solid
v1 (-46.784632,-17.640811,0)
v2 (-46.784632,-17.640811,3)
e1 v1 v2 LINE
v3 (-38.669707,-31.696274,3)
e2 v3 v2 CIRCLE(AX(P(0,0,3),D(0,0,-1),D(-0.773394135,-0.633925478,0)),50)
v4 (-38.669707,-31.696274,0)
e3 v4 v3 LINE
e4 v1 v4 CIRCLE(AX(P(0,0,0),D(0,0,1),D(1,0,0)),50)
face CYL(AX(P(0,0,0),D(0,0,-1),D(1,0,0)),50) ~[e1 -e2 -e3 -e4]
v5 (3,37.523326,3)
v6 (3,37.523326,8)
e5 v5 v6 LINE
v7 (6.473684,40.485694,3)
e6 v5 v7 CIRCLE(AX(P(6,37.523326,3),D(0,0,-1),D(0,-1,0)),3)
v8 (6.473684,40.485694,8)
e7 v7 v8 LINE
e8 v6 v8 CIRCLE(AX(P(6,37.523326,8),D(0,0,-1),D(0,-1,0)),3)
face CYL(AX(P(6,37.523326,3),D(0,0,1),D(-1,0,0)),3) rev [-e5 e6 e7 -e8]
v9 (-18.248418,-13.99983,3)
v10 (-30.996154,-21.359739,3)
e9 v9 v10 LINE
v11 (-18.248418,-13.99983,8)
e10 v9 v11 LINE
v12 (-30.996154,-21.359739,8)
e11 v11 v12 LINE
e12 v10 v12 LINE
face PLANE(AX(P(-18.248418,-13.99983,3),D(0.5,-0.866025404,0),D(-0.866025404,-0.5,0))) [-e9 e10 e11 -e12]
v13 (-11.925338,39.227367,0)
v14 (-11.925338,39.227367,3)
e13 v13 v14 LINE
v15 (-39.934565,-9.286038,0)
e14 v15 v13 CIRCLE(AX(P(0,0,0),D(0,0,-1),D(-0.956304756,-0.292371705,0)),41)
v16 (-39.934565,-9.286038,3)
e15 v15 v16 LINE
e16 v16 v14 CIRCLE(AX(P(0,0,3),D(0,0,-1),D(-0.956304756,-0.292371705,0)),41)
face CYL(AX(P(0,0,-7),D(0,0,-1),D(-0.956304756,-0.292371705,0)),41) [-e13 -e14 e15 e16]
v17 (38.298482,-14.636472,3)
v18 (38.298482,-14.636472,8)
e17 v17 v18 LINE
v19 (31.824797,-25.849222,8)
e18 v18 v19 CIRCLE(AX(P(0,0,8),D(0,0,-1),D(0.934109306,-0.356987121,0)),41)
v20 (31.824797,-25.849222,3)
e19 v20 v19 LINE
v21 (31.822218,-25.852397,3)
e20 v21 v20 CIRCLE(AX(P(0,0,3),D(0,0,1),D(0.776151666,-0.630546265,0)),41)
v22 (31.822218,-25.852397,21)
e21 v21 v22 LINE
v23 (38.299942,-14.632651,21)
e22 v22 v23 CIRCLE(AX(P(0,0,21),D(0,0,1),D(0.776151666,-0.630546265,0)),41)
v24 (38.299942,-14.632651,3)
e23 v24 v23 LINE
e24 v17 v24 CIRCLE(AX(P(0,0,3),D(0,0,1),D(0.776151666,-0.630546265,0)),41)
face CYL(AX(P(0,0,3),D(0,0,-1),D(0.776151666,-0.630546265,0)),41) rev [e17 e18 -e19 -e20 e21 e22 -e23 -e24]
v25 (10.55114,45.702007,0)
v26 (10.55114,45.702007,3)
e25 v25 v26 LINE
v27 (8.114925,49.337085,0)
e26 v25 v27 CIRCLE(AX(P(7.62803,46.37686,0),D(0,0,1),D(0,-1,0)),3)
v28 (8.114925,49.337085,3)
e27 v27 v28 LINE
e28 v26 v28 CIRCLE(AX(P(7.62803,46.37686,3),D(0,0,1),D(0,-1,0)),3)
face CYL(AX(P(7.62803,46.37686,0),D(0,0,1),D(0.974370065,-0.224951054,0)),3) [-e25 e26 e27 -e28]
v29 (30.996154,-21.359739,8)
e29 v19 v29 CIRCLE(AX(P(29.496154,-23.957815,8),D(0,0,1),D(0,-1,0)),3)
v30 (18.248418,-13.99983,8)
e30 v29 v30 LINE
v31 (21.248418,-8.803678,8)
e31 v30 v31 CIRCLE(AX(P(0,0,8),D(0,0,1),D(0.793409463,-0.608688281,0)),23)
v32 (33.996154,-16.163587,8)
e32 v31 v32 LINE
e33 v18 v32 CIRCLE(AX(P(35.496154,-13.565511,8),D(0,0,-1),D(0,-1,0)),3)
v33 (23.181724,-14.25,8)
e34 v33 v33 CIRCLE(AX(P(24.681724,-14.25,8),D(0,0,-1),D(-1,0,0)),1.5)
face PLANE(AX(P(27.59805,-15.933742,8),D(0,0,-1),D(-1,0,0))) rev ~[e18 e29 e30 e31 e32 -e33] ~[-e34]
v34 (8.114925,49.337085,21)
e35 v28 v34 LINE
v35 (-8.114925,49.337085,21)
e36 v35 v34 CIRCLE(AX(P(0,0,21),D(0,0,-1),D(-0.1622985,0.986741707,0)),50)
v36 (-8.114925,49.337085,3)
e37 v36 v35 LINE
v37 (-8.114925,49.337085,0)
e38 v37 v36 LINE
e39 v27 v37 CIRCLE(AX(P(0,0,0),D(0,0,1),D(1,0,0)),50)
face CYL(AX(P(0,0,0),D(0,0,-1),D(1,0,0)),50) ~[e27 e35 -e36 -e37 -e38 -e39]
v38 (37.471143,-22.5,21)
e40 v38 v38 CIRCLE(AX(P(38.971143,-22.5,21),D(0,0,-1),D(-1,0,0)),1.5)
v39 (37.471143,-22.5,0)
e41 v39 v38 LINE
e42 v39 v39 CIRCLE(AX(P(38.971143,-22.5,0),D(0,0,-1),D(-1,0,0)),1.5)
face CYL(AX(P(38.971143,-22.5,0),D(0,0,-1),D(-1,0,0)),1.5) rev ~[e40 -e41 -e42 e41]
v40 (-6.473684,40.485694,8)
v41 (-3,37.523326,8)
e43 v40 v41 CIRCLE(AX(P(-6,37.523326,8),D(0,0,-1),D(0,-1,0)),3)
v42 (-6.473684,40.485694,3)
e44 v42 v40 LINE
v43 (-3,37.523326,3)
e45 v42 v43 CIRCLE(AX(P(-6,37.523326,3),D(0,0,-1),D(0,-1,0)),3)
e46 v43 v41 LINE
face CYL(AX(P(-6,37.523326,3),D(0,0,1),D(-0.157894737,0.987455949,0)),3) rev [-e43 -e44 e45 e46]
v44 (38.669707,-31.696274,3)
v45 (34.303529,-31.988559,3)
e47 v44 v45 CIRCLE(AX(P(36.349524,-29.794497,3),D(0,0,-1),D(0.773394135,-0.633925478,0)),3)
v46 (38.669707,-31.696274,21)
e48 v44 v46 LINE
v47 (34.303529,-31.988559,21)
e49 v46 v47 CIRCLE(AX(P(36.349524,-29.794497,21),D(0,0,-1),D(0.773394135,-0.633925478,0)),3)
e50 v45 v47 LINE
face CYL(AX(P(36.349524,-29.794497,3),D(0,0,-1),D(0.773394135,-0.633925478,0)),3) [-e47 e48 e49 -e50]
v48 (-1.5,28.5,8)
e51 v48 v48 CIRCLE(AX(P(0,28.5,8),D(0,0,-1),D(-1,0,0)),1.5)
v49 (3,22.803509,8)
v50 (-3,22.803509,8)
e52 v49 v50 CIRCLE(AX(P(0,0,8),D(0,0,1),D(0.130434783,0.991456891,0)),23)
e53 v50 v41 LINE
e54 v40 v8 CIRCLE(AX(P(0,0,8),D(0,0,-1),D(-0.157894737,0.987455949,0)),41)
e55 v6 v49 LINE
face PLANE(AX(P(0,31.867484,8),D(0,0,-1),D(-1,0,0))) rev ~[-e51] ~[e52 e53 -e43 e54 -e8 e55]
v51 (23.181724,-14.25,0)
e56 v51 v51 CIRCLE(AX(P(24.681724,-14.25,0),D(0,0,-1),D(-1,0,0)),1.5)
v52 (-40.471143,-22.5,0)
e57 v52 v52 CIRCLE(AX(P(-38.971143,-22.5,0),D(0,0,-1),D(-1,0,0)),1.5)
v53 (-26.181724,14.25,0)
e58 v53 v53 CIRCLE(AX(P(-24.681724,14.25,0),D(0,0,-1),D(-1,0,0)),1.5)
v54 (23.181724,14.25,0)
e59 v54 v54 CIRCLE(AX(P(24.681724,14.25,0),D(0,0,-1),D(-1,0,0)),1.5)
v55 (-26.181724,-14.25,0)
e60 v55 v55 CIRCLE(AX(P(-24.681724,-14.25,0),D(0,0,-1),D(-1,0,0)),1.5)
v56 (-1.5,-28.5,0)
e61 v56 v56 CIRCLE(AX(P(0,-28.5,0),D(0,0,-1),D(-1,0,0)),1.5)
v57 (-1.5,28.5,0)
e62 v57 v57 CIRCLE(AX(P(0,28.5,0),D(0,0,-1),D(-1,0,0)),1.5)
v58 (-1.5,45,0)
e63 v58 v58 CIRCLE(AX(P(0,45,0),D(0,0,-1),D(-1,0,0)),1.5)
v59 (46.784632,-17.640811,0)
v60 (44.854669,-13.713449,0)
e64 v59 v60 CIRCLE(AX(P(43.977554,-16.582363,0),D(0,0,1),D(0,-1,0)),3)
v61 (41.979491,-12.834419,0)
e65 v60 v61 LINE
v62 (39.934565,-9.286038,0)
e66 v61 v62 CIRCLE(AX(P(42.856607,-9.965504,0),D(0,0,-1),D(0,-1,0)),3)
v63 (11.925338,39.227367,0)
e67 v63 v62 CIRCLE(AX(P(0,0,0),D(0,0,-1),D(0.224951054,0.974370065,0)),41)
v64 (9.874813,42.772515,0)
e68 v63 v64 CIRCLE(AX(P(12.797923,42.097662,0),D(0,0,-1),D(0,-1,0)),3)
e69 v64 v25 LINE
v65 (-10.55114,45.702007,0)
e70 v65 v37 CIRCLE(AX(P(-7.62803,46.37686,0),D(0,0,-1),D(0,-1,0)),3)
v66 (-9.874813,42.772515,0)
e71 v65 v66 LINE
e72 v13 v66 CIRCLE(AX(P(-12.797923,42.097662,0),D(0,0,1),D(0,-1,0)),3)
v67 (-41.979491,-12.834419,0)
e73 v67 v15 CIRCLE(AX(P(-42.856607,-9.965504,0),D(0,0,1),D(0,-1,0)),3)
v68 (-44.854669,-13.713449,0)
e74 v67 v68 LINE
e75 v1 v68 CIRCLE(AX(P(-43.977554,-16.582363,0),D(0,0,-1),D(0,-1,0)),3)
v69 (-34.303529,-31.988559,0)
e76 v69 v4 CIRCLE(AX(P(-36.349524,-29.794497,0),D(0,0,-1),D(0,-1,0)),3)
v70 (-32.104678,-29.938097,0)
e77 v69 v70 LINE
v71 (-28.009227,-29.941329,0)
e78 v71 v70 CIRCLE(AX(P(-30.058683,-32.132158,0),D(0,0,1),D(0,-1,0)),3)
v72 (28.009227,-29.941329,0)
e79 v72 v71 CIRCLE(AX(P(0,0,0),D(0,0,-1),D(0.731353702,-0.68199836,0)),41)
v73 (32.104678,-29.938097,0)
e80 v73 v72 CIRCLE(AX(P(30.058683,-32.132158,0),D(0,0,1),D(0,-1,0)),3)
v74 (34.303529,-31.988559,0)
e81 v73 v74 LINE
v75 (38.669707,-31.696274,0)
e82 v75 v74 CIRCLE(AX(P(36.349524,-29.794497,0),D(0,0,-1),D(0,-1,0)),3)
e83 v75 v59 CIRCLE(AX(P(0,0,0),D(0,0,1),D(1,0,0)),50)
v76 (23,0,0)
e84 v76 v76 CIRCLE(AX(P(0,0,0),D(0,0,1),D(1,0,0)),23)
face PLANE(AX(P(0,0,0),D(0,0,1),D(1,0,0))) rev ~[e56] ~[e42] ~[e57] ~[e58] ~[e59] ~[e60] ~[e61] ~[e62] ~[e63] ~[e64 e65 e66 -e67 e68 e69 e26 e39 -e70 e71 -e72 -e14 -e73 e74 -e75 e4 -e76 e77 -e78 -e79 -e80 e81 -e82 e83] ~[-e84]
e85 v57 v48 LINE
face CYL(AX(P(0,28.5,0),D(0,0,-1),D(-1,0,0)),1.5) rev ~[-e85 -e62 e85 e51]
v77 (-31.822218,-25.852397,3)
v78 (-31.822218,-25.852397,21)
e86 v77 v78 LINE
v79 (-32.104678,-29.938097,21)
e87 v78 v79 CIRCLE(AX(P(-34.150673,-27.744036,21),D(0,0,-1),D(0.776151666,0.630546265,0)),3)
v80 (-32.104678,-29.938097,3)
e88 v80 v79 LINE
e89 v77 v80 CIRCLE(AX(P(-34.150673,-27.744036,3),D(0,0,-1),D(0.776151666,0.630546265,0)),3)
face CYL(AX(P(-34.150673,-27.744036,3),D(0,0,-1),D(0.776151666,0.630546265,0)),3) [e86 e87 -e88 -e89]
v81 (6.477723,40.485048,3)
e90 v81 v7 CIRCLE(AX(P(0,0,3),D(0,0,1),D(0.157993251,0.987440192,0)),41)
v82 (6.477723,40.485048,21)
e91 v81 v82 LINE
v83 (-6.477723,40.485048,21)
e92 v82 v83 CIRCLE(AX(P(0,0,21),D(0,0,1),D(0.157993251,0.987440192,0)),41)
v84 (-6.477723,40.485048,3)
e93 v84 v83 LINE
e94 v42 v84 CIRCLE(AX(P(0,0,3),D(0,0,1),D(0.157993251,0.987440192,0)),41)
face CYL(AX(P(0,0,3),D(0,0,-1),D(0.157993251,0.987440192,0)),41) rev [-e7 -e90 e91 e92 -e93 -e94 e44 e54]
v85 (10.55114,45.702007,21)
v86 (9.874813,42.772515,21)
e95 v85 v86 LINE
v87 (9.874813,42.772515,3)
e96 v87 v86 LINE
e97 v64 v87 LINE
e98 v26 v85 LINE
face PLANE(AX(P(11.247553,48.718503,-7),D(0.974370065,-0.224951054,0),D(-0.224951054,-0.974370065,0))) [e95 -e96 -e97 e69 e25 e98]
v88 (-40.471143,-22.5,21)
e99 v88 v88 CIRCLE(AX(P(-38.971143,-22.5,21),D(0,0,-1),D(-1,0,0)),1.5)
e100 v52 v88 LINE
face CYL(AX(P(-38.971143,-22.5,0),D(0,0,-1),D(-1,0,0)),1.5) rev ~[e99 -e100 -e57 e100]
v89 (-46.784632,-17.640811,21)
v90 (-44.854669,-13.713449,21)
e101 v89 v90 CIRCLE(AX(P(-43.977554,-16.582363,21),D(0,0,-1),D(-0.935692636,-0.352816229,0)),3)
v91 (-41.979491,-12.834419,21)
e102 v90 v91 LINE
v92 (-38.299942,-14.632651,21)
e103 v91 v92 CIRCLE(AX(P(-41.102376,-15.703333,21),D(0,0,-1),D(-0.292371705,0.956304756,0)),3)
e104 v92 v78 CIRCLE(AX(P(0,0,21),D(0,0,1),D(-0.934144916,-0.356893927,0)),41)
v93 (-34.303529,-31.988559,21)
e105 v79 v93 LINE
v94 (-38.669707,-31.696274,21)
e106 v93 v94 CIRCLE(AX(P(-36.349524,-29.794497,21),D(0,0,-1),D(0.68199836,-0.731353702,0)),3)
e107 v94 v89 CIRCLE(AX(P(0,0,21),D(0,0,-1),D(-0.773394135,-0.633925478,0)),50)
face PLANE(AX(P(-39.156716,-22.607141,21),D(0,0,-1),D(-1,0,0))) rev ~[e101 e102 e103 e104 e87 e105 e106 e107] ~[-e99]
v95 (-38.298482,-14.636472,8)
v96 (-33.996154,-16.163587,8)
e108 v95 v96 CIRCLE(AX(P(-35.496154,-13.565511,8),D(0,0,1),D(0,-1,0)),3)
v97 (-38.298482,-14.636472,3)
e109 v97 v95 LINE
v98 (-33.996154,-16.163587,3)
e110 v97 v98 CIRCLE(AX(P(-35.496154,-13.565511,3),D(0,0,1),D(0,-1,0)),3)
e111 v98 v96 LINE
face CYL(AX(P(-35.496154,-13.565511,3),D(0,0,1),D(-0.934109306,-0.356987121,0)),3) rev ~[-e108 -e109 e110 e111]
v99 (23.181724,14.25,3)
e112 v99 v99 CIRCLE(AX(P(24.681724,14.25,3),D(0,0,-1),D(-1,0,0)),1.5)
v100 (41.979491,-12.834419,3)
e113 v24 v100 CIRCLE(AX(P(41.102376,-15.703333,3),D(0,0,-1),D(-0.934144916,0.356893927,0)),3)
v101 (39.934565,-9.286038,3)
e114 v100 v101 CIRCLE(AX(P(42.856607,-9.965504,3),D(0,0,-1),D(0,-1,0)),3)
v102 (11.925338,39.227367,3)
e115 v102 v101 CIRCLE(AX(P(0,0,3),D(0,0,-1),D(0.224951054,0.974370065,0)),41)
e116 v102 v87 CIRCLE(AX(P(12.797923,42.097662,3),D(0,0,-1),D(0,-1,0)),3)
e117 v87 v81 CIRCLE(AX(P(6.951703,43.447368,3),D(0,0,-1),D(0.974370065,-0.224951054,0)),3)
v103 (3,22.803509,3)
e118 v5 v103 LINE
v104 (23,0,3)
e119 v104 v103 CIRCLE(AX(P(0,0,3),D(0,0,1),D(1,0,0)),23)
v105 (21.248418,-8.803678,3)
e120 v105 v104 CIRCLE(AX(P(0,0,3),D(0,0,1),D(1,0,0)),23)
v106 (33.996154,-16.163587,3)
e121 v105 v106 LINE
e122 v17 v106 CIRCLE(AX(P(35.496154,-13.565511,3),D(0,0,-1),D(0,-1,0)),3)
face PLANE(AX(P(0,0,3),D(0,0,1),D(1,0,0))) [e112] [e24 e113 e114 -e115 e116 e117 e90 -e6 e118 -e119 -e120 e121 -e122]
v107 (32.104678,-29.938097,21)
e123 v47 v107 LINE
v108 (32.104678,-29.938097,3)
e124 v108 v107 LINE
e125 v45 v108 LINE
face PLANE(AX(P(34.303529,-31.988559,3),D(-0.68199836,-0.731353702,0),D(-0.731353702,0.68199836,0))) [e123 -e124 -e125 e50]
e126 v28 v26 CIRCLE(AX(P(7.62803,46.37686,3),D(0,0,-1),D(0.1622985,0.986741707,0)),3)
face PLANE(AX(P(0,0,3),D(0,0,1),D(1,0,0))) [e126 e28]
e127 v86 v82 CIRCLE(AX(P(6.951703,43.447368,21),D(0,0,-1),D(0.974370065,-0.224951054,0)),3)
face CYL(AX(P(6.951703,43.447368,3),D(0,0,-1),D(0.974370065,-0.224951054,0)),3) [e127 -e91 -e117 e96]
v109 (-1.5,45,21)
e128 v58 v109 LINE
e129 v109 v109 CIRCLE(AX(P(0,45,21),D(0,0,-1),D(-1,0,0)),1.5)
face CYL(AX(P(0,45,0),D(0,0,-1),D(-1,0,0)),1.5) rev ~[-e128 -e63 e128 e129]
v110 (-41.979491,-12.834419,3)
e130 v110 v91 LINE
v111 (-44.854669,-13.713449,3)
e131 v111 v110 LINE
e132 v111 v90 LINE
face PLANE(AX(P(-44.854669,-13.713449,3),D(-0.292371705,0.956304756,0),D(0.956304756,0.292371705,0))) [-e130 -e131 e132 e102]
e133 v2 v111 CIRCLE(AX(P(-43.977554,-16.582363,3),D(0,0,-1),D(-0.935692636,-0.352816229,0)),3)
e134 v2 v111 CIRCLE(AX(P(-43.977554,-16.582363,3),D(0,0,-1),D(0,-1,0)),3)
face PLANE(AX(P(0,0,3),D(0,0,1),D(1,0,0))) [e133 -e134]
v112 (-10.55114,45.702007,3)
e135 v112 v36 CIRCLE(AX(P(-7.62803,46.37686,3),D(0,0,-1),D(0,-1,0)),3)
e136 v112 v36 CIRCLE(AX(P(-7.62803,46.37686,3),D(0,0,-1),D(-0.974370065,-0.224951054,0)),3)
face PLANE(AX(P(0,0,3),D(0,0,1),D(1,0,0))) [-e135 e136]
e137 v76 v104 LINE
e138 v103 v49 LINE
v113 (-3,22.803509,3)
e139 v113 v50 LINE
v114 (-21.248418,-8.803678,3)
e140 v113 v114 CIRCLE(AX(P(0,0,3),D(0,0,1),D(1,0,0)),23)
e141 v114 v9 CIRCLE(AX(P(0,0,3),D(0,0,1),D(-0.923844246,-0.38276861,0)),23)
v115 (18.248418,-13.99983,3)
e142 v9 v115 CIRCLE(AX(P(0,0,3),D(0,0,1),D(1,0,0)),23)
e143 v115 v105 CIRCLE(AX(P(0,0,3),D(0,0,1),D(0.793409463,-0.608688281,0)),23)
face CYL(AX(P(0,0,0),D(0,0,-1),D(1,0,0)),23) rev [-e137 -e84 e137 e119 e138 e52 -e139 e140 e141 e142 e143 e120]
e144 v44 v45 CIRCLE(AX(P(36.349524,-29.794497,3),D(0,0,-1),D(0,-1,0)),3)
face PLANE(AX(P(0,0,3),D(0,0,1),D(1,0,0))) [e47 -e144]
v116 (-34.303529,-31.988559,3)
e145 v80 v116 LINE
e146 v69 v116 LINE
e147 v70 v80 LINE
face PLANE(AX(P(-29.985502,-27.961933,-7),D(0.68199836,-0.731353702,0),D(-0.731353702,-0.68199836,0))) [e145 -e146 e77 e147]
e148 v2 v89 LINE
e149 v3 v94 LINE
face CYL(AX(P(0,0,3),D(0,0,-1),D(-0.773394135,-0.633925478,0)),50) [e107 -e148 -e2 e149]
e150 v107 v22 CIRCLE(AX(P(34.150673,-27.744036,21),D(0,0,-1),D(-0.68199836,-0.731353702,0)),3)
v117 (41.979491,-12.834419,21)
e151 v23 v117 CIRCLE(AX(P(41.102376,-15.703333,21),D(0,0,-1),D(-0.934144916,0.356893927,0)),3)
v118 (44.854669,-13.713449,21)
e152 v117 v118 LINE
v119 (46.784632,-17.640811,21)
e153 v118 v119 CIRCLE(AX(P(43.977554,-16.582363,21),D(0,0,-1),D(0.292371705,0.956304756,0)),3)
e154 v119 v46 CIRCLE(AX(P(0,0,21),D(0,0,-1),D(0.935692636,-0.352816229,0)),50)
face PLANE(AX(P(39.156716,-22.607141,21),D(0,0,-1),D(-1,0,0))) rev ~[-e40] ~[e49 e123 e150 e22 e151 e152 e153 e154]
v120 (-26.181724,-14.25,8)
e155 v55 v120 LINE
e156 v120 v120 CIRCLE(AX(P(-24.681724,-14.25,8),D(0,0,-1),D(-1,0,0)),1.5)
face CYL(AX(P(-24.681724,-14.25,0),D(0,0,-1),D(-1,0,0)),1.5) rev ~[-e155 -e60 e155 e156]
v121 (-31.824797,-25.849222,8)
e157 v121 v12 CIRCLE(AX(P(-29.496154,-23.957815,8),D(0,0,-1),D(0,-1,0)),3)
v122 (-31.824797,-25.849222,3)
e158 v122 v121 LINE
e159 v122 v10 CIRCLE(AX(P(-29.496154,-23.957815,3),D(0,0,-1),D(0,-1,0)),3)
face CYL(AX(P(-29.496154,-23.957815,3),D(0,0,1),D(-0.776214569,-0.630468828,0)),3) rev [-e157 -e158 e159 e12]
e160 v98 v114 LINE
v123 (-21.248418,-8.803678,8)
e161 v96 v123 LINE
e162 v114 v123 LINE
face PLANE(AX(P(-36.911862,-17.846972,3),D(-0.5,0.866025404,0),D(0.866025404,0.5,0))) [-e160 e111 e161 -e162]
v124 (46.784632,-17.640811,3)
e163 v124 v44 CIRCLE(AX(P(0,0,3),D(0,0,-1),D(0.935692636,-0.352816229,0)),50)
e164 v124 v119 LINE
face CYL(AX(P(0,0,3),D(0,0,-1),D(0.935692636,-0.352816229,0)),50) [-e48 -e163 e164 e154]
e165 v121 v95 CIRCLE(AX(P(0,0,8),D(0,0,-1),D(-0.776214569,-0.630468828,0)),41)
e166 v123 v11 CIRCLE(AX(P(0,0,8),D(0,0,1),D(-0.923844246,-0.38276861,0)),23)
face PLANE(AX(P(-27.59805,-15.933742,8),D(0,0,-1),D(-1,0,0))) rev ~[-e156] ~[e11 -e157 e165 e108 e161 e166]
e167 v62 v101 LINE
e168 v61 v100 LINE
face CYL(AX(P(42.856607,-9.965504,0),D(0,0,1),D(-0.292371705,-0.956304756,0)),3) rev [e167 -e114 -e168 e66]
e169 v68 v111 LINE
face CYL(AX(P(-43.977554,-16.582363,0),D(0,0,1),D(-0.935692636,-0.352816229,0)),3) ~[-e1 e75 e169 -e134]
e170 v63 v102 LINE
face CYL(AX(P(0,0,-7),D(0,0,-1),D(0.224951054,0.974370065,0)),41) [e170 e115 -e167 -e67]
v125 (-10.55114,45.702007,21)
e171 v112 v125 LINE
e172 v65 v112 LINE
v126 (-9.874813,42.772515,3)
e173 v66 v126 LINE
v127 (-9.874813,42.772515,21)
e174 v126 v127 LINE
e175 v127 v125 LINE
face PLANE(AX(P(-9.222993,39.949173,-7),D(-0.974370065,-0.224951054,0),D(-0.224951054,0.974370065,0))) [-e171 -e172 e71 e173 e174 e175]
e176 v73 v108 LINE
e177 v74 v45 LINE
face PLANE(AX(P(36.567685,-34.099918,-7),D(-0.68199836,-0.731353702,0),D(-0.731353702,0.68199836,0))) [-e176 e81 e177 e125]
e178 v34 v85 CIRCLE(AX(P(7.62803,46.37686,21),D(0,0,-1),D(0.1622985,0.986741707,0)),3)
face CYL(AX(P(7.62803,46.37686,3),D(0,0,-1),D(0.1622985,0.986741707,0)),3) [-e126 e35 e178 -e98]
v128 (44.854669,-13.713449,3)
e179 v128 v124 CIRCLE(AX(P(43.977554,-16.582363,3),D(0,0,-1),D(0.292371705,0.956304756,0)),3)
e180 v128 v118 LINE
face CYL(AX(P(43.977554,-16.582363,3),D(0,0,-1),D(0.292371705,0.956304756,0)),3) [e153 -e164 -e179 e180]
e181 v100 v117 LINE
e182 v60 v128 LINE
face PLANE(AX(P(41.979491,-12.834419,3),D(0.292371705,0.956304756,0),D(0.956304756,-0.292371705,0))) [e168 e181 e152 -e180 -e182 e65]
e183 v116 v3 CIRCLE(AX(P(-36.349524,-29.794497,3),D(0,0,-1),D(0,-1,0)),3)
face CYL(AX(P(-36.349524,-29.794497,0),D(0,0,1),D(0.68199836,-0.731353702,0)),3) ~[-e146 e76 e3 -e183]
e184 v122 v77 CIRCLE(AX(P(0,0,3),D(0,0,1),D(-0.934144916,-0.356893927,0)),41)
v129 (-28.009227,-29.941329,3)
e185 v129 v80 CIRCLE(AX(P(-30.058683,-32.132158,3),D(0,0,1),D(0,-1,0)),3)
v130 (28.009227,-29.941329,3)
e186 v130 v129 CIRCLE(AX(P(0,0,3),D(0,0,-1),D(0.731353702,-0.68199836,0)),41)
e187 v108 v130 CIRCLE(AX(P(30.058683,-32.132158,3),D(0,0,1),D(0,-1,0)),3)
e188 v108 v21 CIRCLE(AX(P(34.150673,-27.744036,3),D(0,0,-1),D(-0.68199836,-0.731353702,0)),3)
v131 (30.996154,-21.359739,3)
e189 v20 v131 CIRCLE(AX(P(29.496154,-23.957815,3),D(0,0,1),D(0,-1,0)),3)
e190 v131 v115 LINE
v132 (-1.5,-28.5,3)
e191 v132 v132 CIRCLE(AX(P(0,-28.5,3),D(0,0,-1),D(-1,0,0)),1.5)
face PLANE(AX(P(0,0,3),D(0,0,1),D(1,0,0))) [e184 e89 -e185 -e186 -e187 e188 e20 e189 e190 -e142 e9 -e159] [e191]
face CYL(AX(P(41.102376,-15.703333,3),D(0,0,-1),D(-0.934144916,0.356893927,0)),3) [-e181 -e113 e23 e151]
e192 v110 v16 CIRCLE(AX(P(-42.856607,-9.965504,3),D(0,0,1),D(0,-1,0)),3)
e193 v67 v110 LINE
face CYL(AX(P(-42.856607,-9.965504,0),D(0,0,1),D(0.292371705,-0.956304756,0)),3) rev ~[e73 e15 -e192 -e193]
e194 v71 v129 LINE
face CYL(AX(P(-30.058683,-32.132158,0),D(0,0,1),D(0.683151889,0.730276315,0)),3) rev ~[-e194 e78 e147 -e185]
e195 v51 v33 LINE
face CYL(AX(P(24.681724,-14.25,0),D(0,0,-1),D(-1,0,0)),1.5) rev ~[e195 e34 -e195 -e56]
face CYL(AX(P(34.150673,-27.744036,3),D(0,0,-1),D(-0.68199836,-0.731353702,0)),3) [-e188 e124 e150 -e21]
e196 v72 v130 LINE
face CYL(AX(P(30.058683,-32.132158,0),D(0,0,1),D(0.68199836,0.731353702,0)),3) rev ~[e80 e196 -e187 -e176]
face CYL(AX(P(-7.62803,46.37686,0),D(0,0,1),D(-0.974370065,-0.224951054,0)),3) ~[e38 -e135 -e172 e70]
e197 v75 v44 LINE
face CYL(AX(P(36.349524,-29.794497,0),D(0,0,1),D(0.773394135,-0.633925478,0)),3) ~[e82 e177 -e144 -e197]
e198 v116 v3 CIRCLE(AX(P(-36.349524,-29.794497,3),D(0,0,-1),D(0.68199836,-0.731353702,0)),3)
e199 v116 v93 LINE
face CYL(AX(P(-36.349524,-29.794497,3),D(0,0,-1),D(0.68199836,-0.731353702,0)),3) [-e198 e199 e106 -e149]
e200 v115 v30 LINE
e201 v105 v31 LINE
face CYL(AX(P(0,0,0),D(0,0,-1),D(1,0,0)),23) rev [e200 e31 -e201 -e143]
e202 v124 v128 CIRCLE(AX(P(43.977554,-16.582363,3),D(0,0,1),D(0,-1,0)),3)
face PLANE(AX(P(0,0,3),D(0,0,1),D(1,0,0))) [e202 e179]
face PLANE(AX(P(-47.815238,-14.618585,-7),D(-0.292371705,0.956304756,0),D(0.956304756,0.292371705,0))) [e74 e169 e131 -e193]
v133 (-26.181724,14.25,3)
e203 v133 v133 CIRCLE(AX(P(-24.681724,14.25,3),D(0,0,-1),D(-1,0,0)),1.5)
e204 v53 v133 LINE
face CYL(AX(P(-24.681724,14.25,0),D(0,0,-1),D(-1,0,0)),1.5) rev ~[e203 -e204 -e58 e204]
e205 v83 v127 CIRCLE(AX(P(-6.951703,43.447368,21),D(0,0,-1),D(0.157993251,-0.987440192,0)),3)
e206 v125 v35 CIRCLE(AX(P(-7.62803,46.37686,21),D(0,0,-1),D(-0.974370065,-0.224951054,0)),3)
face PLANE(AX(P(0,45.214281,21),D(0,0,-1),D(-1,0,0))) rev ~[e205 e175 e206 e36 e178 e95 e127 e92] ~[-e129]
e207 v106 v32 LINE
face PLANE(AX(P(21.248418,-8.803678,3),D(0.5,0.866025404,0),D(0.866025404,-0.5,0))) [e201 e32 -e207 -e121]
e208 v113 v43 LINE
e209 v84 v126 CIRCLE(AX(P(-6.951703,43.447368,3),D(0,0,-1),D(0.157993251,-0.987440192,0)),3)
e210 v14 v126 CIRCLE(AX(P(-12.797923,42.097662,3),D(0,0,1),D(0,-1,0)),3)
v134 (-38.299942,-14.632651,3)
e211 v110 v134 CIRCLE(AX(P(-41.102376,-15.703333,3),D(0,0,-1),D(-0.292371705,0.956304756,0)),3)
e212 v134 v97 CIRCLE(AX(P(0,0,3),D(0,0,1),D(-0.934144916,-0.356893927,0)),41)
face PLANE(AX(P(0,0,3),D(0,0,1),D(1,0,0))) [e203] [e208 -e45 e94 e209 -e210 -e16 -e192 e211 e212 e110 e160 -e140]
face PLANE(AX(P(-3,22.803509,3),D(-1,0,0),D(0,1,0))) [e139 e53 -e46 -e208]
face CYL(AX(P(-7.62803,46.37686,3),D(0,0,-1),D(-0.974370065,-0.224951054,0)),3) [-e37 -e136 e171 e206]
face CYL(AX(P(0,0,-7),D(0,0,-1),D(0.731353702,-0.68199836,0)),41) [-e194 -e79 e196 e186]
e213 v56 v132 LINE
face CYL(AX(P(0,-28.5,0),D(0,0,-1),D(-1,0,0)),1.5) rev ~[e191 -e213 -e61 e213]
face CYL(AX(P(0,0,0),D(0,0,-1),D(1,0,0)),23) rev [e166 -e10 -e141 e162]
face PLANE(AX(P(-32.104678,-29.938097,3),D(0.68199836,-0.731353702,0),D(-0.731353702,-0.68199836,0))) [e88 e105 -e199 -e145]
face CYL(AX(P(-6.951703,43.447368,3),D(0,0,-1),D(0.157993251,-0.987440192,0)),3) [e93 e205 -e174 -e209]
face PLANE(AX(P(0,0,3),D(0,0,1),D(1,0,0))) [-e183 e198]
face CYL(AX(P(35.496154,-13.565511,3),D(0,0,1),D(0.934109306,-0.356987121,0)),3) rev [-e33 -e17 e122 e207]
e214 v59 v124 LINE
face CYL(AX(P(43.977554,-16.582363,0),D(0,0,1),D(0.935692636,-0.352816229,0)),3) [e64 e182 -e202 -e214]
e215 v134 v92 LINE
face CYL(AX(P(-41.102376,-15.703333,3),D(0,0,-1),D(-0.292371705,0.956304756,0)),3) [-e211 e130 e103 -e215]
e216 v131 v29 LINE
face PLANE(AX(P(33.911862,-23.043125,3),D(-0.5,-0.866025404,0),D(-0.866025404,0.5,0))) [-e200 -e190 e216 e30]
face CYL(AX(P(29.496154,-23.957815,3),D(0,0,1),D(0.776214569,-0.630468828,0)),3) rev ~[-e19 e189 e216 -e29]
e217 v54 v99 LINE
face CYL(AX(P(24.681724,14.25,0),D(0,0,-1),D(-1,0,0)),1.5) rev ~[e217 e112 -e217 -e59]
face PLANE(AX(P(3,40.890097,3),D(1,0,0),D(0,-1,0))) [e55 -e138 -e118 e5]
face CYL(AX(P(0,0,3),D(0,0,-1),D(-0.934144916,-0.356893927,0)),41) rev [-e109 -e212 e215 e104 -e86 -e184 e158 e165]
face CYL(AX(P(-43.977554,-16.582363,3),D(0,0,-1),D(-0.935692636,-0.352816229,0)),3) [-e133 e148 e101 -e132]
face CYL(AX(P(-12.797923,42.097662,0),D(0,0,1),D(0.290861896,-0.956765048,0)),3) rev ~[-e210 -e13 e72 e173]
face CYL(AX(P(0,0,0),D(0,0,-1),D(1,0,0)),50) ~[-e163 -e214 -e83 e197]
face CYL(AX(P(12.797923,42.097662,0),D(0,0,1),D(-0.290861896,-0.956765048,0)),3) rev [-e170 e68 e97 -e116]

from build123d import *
from build123d.topology import SkipClean

# Parameters (mm, degrees)
SKETCH_1_R          = 50
SKETCH_1_R_2        = 23
EXTRUDE_1_DEPTH     = 3
EXTRUDE_2_DEPTH     = 18
CUT_EXTRUDE_START   = -10
CUT_EXTRUDE_3_DEPTH = 10
FILLET_1_R          = 3
EXTRUDE_3_DEPTH     = 5
FILLET_2_R          = 3
SKETCH_12_R         = 1.5000000000000004
SKETCH_12_R_2       = 1.500000000002469
SKETCH_12_R_3       = 1.500000000003657
SKETCH_12_R_4       = 1.5000000000007194
SKETCH_12_R_5       = 1.5000000000035343
SKETCH_12_R_6       = 1.5000000000057032
SKETCH_12_R_7       = 1.500000000005128
SKETCH_12_R_8       = 1.5000000000024487
CUT_EXTRUDE_5_DEPTH = 72.74880185582359


with BuildPart() as part:
    # 草图1 → 凸台-拉伸1 (new body)
    with BuildSketch(Plane.XY):
        Circle(SKETCH_1_R)
        Circle(SKETCH_1_R_2, mode=Mode.SUBTRACT)
    extrude(amount=EXTRUDE_1_DEPTH)

    # 草图3 → 凸台-拉伸2 (add)
    with SkipClean():  # the faces are left unmerged after this step: merging them gives an invalid solid
        with BuildSketch(Plane.XY.offset(3)):
            with BuildLine():
                Line((-9.874813233208371, 42.77251528270522), (-10.551139704833318, 45.702007077688506))
                ThreePointArc((-10.551139704833318, 45.702007077688506), (-10.120113627064406, 48.04704488795414), (-8.11492501114639, 49.33708536246817))
                ThreePointArc((-8.11492501114639, 49.33708536246817), (1.807e-13, 50.00000000000001), (8.114925011146731, 49.337085362468116))
                ThreePointArc((8.114925011146731, 49.337085362468116), (10.12011362706467, 48.04704488795384), (10.551139704833638, 45.70200707768843))
                Line((10.551139704833638, 45.70200707768843), (9.874813233208666, 42.77251528270517))
                ThreePointArc((9.874813233208666, 42.77251528270517), (8.627318379942658, 40.95893254567728), (6.477723286203897, 40.48504786989108))
                ThreePointArc((6.477723286203897, 40.48504786989108), (1.2996e-13, 41), (-6.477723286203645, 40.48504786989111))
                ThreePointArc((-6.477723286203645, 40.48504786989111), (-8.62731837994238, 40.95893254567734), (-9.874813233208371, 42.77251528270522))
            make_face()
            with BuildLine():
                Line((41.97949143518492, -12.834418523767924), (44.854668985630965, -13.71344851558049))
                ThreePointArc((44.854668985630965, -13.71344851558049), (46.67001826327145, -15.259246953754747), (46.784631778151805, -17.640811471776157))
                ThreePointArc((46.784631778151805, -17.640811471776157), (43.301270189221555, -25.00000000000067), (38.669706767005025, -31.696273890693295))
                ThreePointArc((38.669706767005025, -31.696273890693295), (36.549904636206634, -32.78779793420051), (34.30352928079721, -31.988558562109187))
                Line((34.30352928079721, -31.988558562109187), (32.10467820197613, -29.938096758938418))
                ThreePointArc((32.10467820197613, -29.938096758938418), (31.157816906477983, -27.9509431564057), (31.822218285652507, -25.85239685948451))
                ThreePointArc((31.822218285652507, -25.85239685948451), (35.507041555161685, -20.500000000000547), (38.29994157185643, -14.632651010407674))
                ThreePointArc((38.29994157185643, -14.632651010407674), (39.785135286420804, -13.007989389272412), (41.97949143518492, -12.834418523767924))
            make_face()
            with BuildLine():
                Line((-32.10467820197666, -29.93809675893783), (-34.303529280798315, -31.988558562107986))
                ThreePointArc((-34.303529280798315, -31.988558562107986), (-36.54990463620778, -32.78779793419923), (-38.66970676700613, -31.696273890691934))
                ThreePointArc((-38.66970676700613, -31.696273890691934), (-43.30127018922243, -24.99999999999913), (-46.784631778152395, -17.6408114717745))
                ThreePointArc((-46.784631778152395, -17.6408114717745), (-46.67001826327195, -15.259246953753097), (-44.85466898563141, -13.713448515578905))
                Line((-44.85466898563141, -13.713448515578905), (-41.97949143518515, -12.834418523767118))
                ThreePointArc((-41.97949143518515, -12.834418523767118), (-39.78513528642106, -13.00798938927188), (-38.299941571856685, -14.63265101040697))
                ThreePointArc((-38.299941571856685, -14.63265101040697), (-35.50704155516204, -20.499999999999904), (-31.82221828565296, -25.852396859483928))
                ThreePointArc((-31.82221828565296, -25.852396859483928), (-31.157816906478594, -27.950943156405188), (-32.10467820197666, -29.93809675893783))
            make_face()
        extrude(amount=EXTRUDE_2_DEPTH)

    # 草图9 → 切除-拉伸3 (cut)
    with BuildSketch(Plane.XY.offset(3).offset(CUT_EXTRUDE_START)):
        with BuildLine():
            Line((-29.985501766385628, -27.96193276256284), (-36.56768508095982, -34.09991800312355))
            ThreePointArc((-36.56768508095982, -34.09991800312355), (3.06e-15, -50.00000000000001), (36.56768508095982, -34.09991800312355))
            Line((36.56768508095982, -34.09991800312355), (29.985501766385635, -27.96193276256283))
            ThreePointArc((29.985501766385635, -27.96193276256283), (1.161e-14, -41.00000000000001), (-29.985501766385628, -27.96193276256284))
        make_face()
        with BuildLine():
            Line((-9.222993228098813, 39.949172656194584), (-11.247552717191196, 48.718503239262255))
            ThreePointArc((-11.247552717191196, 48.718503239262255), (-43.301270189221846, 25.000000000000213), (-47.815237798151315, -14.618585236138424))
            Line((-47.815237798151315, -14.618585236138424), (-39.208494994484695, -11.987239893631525))
            ThreePointArc((-39.208494994484695, -11.987239893631525), (-35.507041555161905, 20.500000000000185), (-9.222993228098813, 39.949172656194584))
        make_face()
        with BuildLine():
            Line((39.2084949944845, -11.98723989363206), (47.81523779815109, -14.618585236139088))
            ThreePointArc((47.81523779815109, -14.618585236139088), (43.301270189222166, 24.999999999999602), (11.247552717191859, 48.71850323926209))
            Line((11.247552717191859, 48.71850323926209), (9.222993228099345, 39.94917265619444))
            ThreePointArc((9.222993228099345, 39.94917265619444), (35.507041555162175, 20.499999999999673), (39.2084949944845, -11.98723989363206))
        make_face()
    extrude(amount=CUT_EXTRUDE_3_DEPTH, mode=Mode.SUBTRACT)

    # 圆角1
    fillet_1_edges = [part.edges().sort_by_distance(p)[0] for p in [
        (47.81523779815109, -14.618585236139088, 1.5),
        (39.2084949944845, -11.987239893632058, 1.5),
        (9.222993228099345, 39.94917265619444, 1.5),
        (11.247552717191857, 48.71850323926209, 1.5),
        (-11.247552717191198, 48.71850323926226, 1.5),
        (-9.222993228098812, 39.94917265619458, 1.5),
        (-39.208494994484695, -11.987239893631525, 1.5),
        (-47.815237798151315, -14.618585236138426, 1.5),
        (-36.56768508095982, -34.09991800312355, 1.5),
        (-29.98550176638563, -27.96193276256284, 1.5),
        (29.98550176638564, -27.96193276256283, 1.5),
        (36.56768508095982, -34.09991800312355, 1.5),
    ]]
    fillet(fillet_1_edges, radius=FILLET_1_R)

    # 草图10 → 凸台-拉伸3 (add)
    with BuildSketch(Plane.XY.offset(3)):
        with BuildLine():
            Line((-2.9999999999999964, 22.80350850198276), (-2.9999999999999964, 40.89009660052175))
            ThreePointArc((-2.9999999999999964, 40.89009660052175), (2.51e-15, 41.00000000000001), (2.999999999999999, 40.89009660052175))
            Line((2.999999999999999, 40.89009660052175), (3.0000000000000044, 22.80350850198276))
            ThreePointArc((3.0000000000000044, 22.80350850198276), (1.41e-15, 23), (-2.9999999999999964, 22.80350850198276))
        make_face()
        with BuildLine():
            Line((21.248417658131462, -8.80367803963817), (36.91186241925147, -17.846972088907737))
            ThreePointArc((36.91186241925147, -17.846972088907737), (35.50704155516189, -20.50000000000017), (33.91186241925145, -23.04312451161435))
            Line((33.91186241925145, -23.04312451161435), (18.248417658131434, -13.99983046234479))
            ThreePointArc((18.248417658131434, -13.99983046234479), (19.918584287042034, -11.500000000000101), (21.248417658131462, -8.80367803963817))
        make_face()
        with BuildLine():
            Line((-18.24841765813163, -13.999830462344521), (-33.91186241925177, -23.043124511613875))
            ThreePointArc((-33.91186241925177, -23.043124511613875), (-35.507041555162175, -20.499999999999666), (-36.91186241925171, -17.84697208890722))
            Line((-36.91186241925171, -17.84697208890722), (-21.24841765813158, -8.80367803963786))
            ThreePointArc((-21.24841765813158, -8.80367803963786), (-19.918584287042194, -11.499999999999812), (-18.24841765813163, -13.999830462344521))
        make_face()
    extrude(amount=EXTRUDE_3_DEPTH)

    # 圆角2
    fillet_2_edges = [part.edges().sort_by_distance(p)[0] for p in [
        (2.999999999999999, 40.89009660052176, 5.5),
        (-2.9999999999999964, 40.89009660052176, 5.5),
        (33.91186241925145, -23.04312451161435, 5.5),
        (36.91186241925147, -17.846972088907737, 5.5),
        (-36.91186241925171, -17.846972088907222, 5.5),
        (-33.911862419251776, -23.043124511613875, 5.5),
    ]]
    fillet(fillet_2_edges, radius=FILLET_2_R)

    # 草图12 → 切除-拉伸5 (cut, through all)
    with BuildSketch(Plane(origin=(0, 0, 0), x_dir=(-1, 0, 0), z_dir=(0, 0, -1))):
        with Locations((0, 45.00000000000001)):
            Circle(SKETCH_12_R)
        with Locations((0, 28.5)):
            Circle(SKETCH_12_R)
        with Locations((38.97114317030261, -22.49999999999833)):
            Circle(SKETCH_12_R_2)
        with Locations((-38.97114317029686, -22.500000000001673)):
            Circle(SKETCH_12_R_3)
        with Locations((24.681724007857937, 14.250000000002501)):
            Circle(SKETCH_12_R_4)
        with Locations((24.681724007860826, -14.2499999999975)):
            Circle(SKETCH_12_R_5)
        with Locations((5.7644e-12, -28.5)):
            Circle(SKETCH_12_R_6)
        with Locations((-24.681724007852175, -14.250000000002506)):
            Circle(SKETCH_12_R_7)
        with Locations((-24.681724007855074, 14.249999999997485)):
            Circle(SKETCH_12_R_8)
    extrude(amount=-CUT_EXTRUDE_5_DEPTH, mode=Mode.SUBTRACT)


solid = part.part
